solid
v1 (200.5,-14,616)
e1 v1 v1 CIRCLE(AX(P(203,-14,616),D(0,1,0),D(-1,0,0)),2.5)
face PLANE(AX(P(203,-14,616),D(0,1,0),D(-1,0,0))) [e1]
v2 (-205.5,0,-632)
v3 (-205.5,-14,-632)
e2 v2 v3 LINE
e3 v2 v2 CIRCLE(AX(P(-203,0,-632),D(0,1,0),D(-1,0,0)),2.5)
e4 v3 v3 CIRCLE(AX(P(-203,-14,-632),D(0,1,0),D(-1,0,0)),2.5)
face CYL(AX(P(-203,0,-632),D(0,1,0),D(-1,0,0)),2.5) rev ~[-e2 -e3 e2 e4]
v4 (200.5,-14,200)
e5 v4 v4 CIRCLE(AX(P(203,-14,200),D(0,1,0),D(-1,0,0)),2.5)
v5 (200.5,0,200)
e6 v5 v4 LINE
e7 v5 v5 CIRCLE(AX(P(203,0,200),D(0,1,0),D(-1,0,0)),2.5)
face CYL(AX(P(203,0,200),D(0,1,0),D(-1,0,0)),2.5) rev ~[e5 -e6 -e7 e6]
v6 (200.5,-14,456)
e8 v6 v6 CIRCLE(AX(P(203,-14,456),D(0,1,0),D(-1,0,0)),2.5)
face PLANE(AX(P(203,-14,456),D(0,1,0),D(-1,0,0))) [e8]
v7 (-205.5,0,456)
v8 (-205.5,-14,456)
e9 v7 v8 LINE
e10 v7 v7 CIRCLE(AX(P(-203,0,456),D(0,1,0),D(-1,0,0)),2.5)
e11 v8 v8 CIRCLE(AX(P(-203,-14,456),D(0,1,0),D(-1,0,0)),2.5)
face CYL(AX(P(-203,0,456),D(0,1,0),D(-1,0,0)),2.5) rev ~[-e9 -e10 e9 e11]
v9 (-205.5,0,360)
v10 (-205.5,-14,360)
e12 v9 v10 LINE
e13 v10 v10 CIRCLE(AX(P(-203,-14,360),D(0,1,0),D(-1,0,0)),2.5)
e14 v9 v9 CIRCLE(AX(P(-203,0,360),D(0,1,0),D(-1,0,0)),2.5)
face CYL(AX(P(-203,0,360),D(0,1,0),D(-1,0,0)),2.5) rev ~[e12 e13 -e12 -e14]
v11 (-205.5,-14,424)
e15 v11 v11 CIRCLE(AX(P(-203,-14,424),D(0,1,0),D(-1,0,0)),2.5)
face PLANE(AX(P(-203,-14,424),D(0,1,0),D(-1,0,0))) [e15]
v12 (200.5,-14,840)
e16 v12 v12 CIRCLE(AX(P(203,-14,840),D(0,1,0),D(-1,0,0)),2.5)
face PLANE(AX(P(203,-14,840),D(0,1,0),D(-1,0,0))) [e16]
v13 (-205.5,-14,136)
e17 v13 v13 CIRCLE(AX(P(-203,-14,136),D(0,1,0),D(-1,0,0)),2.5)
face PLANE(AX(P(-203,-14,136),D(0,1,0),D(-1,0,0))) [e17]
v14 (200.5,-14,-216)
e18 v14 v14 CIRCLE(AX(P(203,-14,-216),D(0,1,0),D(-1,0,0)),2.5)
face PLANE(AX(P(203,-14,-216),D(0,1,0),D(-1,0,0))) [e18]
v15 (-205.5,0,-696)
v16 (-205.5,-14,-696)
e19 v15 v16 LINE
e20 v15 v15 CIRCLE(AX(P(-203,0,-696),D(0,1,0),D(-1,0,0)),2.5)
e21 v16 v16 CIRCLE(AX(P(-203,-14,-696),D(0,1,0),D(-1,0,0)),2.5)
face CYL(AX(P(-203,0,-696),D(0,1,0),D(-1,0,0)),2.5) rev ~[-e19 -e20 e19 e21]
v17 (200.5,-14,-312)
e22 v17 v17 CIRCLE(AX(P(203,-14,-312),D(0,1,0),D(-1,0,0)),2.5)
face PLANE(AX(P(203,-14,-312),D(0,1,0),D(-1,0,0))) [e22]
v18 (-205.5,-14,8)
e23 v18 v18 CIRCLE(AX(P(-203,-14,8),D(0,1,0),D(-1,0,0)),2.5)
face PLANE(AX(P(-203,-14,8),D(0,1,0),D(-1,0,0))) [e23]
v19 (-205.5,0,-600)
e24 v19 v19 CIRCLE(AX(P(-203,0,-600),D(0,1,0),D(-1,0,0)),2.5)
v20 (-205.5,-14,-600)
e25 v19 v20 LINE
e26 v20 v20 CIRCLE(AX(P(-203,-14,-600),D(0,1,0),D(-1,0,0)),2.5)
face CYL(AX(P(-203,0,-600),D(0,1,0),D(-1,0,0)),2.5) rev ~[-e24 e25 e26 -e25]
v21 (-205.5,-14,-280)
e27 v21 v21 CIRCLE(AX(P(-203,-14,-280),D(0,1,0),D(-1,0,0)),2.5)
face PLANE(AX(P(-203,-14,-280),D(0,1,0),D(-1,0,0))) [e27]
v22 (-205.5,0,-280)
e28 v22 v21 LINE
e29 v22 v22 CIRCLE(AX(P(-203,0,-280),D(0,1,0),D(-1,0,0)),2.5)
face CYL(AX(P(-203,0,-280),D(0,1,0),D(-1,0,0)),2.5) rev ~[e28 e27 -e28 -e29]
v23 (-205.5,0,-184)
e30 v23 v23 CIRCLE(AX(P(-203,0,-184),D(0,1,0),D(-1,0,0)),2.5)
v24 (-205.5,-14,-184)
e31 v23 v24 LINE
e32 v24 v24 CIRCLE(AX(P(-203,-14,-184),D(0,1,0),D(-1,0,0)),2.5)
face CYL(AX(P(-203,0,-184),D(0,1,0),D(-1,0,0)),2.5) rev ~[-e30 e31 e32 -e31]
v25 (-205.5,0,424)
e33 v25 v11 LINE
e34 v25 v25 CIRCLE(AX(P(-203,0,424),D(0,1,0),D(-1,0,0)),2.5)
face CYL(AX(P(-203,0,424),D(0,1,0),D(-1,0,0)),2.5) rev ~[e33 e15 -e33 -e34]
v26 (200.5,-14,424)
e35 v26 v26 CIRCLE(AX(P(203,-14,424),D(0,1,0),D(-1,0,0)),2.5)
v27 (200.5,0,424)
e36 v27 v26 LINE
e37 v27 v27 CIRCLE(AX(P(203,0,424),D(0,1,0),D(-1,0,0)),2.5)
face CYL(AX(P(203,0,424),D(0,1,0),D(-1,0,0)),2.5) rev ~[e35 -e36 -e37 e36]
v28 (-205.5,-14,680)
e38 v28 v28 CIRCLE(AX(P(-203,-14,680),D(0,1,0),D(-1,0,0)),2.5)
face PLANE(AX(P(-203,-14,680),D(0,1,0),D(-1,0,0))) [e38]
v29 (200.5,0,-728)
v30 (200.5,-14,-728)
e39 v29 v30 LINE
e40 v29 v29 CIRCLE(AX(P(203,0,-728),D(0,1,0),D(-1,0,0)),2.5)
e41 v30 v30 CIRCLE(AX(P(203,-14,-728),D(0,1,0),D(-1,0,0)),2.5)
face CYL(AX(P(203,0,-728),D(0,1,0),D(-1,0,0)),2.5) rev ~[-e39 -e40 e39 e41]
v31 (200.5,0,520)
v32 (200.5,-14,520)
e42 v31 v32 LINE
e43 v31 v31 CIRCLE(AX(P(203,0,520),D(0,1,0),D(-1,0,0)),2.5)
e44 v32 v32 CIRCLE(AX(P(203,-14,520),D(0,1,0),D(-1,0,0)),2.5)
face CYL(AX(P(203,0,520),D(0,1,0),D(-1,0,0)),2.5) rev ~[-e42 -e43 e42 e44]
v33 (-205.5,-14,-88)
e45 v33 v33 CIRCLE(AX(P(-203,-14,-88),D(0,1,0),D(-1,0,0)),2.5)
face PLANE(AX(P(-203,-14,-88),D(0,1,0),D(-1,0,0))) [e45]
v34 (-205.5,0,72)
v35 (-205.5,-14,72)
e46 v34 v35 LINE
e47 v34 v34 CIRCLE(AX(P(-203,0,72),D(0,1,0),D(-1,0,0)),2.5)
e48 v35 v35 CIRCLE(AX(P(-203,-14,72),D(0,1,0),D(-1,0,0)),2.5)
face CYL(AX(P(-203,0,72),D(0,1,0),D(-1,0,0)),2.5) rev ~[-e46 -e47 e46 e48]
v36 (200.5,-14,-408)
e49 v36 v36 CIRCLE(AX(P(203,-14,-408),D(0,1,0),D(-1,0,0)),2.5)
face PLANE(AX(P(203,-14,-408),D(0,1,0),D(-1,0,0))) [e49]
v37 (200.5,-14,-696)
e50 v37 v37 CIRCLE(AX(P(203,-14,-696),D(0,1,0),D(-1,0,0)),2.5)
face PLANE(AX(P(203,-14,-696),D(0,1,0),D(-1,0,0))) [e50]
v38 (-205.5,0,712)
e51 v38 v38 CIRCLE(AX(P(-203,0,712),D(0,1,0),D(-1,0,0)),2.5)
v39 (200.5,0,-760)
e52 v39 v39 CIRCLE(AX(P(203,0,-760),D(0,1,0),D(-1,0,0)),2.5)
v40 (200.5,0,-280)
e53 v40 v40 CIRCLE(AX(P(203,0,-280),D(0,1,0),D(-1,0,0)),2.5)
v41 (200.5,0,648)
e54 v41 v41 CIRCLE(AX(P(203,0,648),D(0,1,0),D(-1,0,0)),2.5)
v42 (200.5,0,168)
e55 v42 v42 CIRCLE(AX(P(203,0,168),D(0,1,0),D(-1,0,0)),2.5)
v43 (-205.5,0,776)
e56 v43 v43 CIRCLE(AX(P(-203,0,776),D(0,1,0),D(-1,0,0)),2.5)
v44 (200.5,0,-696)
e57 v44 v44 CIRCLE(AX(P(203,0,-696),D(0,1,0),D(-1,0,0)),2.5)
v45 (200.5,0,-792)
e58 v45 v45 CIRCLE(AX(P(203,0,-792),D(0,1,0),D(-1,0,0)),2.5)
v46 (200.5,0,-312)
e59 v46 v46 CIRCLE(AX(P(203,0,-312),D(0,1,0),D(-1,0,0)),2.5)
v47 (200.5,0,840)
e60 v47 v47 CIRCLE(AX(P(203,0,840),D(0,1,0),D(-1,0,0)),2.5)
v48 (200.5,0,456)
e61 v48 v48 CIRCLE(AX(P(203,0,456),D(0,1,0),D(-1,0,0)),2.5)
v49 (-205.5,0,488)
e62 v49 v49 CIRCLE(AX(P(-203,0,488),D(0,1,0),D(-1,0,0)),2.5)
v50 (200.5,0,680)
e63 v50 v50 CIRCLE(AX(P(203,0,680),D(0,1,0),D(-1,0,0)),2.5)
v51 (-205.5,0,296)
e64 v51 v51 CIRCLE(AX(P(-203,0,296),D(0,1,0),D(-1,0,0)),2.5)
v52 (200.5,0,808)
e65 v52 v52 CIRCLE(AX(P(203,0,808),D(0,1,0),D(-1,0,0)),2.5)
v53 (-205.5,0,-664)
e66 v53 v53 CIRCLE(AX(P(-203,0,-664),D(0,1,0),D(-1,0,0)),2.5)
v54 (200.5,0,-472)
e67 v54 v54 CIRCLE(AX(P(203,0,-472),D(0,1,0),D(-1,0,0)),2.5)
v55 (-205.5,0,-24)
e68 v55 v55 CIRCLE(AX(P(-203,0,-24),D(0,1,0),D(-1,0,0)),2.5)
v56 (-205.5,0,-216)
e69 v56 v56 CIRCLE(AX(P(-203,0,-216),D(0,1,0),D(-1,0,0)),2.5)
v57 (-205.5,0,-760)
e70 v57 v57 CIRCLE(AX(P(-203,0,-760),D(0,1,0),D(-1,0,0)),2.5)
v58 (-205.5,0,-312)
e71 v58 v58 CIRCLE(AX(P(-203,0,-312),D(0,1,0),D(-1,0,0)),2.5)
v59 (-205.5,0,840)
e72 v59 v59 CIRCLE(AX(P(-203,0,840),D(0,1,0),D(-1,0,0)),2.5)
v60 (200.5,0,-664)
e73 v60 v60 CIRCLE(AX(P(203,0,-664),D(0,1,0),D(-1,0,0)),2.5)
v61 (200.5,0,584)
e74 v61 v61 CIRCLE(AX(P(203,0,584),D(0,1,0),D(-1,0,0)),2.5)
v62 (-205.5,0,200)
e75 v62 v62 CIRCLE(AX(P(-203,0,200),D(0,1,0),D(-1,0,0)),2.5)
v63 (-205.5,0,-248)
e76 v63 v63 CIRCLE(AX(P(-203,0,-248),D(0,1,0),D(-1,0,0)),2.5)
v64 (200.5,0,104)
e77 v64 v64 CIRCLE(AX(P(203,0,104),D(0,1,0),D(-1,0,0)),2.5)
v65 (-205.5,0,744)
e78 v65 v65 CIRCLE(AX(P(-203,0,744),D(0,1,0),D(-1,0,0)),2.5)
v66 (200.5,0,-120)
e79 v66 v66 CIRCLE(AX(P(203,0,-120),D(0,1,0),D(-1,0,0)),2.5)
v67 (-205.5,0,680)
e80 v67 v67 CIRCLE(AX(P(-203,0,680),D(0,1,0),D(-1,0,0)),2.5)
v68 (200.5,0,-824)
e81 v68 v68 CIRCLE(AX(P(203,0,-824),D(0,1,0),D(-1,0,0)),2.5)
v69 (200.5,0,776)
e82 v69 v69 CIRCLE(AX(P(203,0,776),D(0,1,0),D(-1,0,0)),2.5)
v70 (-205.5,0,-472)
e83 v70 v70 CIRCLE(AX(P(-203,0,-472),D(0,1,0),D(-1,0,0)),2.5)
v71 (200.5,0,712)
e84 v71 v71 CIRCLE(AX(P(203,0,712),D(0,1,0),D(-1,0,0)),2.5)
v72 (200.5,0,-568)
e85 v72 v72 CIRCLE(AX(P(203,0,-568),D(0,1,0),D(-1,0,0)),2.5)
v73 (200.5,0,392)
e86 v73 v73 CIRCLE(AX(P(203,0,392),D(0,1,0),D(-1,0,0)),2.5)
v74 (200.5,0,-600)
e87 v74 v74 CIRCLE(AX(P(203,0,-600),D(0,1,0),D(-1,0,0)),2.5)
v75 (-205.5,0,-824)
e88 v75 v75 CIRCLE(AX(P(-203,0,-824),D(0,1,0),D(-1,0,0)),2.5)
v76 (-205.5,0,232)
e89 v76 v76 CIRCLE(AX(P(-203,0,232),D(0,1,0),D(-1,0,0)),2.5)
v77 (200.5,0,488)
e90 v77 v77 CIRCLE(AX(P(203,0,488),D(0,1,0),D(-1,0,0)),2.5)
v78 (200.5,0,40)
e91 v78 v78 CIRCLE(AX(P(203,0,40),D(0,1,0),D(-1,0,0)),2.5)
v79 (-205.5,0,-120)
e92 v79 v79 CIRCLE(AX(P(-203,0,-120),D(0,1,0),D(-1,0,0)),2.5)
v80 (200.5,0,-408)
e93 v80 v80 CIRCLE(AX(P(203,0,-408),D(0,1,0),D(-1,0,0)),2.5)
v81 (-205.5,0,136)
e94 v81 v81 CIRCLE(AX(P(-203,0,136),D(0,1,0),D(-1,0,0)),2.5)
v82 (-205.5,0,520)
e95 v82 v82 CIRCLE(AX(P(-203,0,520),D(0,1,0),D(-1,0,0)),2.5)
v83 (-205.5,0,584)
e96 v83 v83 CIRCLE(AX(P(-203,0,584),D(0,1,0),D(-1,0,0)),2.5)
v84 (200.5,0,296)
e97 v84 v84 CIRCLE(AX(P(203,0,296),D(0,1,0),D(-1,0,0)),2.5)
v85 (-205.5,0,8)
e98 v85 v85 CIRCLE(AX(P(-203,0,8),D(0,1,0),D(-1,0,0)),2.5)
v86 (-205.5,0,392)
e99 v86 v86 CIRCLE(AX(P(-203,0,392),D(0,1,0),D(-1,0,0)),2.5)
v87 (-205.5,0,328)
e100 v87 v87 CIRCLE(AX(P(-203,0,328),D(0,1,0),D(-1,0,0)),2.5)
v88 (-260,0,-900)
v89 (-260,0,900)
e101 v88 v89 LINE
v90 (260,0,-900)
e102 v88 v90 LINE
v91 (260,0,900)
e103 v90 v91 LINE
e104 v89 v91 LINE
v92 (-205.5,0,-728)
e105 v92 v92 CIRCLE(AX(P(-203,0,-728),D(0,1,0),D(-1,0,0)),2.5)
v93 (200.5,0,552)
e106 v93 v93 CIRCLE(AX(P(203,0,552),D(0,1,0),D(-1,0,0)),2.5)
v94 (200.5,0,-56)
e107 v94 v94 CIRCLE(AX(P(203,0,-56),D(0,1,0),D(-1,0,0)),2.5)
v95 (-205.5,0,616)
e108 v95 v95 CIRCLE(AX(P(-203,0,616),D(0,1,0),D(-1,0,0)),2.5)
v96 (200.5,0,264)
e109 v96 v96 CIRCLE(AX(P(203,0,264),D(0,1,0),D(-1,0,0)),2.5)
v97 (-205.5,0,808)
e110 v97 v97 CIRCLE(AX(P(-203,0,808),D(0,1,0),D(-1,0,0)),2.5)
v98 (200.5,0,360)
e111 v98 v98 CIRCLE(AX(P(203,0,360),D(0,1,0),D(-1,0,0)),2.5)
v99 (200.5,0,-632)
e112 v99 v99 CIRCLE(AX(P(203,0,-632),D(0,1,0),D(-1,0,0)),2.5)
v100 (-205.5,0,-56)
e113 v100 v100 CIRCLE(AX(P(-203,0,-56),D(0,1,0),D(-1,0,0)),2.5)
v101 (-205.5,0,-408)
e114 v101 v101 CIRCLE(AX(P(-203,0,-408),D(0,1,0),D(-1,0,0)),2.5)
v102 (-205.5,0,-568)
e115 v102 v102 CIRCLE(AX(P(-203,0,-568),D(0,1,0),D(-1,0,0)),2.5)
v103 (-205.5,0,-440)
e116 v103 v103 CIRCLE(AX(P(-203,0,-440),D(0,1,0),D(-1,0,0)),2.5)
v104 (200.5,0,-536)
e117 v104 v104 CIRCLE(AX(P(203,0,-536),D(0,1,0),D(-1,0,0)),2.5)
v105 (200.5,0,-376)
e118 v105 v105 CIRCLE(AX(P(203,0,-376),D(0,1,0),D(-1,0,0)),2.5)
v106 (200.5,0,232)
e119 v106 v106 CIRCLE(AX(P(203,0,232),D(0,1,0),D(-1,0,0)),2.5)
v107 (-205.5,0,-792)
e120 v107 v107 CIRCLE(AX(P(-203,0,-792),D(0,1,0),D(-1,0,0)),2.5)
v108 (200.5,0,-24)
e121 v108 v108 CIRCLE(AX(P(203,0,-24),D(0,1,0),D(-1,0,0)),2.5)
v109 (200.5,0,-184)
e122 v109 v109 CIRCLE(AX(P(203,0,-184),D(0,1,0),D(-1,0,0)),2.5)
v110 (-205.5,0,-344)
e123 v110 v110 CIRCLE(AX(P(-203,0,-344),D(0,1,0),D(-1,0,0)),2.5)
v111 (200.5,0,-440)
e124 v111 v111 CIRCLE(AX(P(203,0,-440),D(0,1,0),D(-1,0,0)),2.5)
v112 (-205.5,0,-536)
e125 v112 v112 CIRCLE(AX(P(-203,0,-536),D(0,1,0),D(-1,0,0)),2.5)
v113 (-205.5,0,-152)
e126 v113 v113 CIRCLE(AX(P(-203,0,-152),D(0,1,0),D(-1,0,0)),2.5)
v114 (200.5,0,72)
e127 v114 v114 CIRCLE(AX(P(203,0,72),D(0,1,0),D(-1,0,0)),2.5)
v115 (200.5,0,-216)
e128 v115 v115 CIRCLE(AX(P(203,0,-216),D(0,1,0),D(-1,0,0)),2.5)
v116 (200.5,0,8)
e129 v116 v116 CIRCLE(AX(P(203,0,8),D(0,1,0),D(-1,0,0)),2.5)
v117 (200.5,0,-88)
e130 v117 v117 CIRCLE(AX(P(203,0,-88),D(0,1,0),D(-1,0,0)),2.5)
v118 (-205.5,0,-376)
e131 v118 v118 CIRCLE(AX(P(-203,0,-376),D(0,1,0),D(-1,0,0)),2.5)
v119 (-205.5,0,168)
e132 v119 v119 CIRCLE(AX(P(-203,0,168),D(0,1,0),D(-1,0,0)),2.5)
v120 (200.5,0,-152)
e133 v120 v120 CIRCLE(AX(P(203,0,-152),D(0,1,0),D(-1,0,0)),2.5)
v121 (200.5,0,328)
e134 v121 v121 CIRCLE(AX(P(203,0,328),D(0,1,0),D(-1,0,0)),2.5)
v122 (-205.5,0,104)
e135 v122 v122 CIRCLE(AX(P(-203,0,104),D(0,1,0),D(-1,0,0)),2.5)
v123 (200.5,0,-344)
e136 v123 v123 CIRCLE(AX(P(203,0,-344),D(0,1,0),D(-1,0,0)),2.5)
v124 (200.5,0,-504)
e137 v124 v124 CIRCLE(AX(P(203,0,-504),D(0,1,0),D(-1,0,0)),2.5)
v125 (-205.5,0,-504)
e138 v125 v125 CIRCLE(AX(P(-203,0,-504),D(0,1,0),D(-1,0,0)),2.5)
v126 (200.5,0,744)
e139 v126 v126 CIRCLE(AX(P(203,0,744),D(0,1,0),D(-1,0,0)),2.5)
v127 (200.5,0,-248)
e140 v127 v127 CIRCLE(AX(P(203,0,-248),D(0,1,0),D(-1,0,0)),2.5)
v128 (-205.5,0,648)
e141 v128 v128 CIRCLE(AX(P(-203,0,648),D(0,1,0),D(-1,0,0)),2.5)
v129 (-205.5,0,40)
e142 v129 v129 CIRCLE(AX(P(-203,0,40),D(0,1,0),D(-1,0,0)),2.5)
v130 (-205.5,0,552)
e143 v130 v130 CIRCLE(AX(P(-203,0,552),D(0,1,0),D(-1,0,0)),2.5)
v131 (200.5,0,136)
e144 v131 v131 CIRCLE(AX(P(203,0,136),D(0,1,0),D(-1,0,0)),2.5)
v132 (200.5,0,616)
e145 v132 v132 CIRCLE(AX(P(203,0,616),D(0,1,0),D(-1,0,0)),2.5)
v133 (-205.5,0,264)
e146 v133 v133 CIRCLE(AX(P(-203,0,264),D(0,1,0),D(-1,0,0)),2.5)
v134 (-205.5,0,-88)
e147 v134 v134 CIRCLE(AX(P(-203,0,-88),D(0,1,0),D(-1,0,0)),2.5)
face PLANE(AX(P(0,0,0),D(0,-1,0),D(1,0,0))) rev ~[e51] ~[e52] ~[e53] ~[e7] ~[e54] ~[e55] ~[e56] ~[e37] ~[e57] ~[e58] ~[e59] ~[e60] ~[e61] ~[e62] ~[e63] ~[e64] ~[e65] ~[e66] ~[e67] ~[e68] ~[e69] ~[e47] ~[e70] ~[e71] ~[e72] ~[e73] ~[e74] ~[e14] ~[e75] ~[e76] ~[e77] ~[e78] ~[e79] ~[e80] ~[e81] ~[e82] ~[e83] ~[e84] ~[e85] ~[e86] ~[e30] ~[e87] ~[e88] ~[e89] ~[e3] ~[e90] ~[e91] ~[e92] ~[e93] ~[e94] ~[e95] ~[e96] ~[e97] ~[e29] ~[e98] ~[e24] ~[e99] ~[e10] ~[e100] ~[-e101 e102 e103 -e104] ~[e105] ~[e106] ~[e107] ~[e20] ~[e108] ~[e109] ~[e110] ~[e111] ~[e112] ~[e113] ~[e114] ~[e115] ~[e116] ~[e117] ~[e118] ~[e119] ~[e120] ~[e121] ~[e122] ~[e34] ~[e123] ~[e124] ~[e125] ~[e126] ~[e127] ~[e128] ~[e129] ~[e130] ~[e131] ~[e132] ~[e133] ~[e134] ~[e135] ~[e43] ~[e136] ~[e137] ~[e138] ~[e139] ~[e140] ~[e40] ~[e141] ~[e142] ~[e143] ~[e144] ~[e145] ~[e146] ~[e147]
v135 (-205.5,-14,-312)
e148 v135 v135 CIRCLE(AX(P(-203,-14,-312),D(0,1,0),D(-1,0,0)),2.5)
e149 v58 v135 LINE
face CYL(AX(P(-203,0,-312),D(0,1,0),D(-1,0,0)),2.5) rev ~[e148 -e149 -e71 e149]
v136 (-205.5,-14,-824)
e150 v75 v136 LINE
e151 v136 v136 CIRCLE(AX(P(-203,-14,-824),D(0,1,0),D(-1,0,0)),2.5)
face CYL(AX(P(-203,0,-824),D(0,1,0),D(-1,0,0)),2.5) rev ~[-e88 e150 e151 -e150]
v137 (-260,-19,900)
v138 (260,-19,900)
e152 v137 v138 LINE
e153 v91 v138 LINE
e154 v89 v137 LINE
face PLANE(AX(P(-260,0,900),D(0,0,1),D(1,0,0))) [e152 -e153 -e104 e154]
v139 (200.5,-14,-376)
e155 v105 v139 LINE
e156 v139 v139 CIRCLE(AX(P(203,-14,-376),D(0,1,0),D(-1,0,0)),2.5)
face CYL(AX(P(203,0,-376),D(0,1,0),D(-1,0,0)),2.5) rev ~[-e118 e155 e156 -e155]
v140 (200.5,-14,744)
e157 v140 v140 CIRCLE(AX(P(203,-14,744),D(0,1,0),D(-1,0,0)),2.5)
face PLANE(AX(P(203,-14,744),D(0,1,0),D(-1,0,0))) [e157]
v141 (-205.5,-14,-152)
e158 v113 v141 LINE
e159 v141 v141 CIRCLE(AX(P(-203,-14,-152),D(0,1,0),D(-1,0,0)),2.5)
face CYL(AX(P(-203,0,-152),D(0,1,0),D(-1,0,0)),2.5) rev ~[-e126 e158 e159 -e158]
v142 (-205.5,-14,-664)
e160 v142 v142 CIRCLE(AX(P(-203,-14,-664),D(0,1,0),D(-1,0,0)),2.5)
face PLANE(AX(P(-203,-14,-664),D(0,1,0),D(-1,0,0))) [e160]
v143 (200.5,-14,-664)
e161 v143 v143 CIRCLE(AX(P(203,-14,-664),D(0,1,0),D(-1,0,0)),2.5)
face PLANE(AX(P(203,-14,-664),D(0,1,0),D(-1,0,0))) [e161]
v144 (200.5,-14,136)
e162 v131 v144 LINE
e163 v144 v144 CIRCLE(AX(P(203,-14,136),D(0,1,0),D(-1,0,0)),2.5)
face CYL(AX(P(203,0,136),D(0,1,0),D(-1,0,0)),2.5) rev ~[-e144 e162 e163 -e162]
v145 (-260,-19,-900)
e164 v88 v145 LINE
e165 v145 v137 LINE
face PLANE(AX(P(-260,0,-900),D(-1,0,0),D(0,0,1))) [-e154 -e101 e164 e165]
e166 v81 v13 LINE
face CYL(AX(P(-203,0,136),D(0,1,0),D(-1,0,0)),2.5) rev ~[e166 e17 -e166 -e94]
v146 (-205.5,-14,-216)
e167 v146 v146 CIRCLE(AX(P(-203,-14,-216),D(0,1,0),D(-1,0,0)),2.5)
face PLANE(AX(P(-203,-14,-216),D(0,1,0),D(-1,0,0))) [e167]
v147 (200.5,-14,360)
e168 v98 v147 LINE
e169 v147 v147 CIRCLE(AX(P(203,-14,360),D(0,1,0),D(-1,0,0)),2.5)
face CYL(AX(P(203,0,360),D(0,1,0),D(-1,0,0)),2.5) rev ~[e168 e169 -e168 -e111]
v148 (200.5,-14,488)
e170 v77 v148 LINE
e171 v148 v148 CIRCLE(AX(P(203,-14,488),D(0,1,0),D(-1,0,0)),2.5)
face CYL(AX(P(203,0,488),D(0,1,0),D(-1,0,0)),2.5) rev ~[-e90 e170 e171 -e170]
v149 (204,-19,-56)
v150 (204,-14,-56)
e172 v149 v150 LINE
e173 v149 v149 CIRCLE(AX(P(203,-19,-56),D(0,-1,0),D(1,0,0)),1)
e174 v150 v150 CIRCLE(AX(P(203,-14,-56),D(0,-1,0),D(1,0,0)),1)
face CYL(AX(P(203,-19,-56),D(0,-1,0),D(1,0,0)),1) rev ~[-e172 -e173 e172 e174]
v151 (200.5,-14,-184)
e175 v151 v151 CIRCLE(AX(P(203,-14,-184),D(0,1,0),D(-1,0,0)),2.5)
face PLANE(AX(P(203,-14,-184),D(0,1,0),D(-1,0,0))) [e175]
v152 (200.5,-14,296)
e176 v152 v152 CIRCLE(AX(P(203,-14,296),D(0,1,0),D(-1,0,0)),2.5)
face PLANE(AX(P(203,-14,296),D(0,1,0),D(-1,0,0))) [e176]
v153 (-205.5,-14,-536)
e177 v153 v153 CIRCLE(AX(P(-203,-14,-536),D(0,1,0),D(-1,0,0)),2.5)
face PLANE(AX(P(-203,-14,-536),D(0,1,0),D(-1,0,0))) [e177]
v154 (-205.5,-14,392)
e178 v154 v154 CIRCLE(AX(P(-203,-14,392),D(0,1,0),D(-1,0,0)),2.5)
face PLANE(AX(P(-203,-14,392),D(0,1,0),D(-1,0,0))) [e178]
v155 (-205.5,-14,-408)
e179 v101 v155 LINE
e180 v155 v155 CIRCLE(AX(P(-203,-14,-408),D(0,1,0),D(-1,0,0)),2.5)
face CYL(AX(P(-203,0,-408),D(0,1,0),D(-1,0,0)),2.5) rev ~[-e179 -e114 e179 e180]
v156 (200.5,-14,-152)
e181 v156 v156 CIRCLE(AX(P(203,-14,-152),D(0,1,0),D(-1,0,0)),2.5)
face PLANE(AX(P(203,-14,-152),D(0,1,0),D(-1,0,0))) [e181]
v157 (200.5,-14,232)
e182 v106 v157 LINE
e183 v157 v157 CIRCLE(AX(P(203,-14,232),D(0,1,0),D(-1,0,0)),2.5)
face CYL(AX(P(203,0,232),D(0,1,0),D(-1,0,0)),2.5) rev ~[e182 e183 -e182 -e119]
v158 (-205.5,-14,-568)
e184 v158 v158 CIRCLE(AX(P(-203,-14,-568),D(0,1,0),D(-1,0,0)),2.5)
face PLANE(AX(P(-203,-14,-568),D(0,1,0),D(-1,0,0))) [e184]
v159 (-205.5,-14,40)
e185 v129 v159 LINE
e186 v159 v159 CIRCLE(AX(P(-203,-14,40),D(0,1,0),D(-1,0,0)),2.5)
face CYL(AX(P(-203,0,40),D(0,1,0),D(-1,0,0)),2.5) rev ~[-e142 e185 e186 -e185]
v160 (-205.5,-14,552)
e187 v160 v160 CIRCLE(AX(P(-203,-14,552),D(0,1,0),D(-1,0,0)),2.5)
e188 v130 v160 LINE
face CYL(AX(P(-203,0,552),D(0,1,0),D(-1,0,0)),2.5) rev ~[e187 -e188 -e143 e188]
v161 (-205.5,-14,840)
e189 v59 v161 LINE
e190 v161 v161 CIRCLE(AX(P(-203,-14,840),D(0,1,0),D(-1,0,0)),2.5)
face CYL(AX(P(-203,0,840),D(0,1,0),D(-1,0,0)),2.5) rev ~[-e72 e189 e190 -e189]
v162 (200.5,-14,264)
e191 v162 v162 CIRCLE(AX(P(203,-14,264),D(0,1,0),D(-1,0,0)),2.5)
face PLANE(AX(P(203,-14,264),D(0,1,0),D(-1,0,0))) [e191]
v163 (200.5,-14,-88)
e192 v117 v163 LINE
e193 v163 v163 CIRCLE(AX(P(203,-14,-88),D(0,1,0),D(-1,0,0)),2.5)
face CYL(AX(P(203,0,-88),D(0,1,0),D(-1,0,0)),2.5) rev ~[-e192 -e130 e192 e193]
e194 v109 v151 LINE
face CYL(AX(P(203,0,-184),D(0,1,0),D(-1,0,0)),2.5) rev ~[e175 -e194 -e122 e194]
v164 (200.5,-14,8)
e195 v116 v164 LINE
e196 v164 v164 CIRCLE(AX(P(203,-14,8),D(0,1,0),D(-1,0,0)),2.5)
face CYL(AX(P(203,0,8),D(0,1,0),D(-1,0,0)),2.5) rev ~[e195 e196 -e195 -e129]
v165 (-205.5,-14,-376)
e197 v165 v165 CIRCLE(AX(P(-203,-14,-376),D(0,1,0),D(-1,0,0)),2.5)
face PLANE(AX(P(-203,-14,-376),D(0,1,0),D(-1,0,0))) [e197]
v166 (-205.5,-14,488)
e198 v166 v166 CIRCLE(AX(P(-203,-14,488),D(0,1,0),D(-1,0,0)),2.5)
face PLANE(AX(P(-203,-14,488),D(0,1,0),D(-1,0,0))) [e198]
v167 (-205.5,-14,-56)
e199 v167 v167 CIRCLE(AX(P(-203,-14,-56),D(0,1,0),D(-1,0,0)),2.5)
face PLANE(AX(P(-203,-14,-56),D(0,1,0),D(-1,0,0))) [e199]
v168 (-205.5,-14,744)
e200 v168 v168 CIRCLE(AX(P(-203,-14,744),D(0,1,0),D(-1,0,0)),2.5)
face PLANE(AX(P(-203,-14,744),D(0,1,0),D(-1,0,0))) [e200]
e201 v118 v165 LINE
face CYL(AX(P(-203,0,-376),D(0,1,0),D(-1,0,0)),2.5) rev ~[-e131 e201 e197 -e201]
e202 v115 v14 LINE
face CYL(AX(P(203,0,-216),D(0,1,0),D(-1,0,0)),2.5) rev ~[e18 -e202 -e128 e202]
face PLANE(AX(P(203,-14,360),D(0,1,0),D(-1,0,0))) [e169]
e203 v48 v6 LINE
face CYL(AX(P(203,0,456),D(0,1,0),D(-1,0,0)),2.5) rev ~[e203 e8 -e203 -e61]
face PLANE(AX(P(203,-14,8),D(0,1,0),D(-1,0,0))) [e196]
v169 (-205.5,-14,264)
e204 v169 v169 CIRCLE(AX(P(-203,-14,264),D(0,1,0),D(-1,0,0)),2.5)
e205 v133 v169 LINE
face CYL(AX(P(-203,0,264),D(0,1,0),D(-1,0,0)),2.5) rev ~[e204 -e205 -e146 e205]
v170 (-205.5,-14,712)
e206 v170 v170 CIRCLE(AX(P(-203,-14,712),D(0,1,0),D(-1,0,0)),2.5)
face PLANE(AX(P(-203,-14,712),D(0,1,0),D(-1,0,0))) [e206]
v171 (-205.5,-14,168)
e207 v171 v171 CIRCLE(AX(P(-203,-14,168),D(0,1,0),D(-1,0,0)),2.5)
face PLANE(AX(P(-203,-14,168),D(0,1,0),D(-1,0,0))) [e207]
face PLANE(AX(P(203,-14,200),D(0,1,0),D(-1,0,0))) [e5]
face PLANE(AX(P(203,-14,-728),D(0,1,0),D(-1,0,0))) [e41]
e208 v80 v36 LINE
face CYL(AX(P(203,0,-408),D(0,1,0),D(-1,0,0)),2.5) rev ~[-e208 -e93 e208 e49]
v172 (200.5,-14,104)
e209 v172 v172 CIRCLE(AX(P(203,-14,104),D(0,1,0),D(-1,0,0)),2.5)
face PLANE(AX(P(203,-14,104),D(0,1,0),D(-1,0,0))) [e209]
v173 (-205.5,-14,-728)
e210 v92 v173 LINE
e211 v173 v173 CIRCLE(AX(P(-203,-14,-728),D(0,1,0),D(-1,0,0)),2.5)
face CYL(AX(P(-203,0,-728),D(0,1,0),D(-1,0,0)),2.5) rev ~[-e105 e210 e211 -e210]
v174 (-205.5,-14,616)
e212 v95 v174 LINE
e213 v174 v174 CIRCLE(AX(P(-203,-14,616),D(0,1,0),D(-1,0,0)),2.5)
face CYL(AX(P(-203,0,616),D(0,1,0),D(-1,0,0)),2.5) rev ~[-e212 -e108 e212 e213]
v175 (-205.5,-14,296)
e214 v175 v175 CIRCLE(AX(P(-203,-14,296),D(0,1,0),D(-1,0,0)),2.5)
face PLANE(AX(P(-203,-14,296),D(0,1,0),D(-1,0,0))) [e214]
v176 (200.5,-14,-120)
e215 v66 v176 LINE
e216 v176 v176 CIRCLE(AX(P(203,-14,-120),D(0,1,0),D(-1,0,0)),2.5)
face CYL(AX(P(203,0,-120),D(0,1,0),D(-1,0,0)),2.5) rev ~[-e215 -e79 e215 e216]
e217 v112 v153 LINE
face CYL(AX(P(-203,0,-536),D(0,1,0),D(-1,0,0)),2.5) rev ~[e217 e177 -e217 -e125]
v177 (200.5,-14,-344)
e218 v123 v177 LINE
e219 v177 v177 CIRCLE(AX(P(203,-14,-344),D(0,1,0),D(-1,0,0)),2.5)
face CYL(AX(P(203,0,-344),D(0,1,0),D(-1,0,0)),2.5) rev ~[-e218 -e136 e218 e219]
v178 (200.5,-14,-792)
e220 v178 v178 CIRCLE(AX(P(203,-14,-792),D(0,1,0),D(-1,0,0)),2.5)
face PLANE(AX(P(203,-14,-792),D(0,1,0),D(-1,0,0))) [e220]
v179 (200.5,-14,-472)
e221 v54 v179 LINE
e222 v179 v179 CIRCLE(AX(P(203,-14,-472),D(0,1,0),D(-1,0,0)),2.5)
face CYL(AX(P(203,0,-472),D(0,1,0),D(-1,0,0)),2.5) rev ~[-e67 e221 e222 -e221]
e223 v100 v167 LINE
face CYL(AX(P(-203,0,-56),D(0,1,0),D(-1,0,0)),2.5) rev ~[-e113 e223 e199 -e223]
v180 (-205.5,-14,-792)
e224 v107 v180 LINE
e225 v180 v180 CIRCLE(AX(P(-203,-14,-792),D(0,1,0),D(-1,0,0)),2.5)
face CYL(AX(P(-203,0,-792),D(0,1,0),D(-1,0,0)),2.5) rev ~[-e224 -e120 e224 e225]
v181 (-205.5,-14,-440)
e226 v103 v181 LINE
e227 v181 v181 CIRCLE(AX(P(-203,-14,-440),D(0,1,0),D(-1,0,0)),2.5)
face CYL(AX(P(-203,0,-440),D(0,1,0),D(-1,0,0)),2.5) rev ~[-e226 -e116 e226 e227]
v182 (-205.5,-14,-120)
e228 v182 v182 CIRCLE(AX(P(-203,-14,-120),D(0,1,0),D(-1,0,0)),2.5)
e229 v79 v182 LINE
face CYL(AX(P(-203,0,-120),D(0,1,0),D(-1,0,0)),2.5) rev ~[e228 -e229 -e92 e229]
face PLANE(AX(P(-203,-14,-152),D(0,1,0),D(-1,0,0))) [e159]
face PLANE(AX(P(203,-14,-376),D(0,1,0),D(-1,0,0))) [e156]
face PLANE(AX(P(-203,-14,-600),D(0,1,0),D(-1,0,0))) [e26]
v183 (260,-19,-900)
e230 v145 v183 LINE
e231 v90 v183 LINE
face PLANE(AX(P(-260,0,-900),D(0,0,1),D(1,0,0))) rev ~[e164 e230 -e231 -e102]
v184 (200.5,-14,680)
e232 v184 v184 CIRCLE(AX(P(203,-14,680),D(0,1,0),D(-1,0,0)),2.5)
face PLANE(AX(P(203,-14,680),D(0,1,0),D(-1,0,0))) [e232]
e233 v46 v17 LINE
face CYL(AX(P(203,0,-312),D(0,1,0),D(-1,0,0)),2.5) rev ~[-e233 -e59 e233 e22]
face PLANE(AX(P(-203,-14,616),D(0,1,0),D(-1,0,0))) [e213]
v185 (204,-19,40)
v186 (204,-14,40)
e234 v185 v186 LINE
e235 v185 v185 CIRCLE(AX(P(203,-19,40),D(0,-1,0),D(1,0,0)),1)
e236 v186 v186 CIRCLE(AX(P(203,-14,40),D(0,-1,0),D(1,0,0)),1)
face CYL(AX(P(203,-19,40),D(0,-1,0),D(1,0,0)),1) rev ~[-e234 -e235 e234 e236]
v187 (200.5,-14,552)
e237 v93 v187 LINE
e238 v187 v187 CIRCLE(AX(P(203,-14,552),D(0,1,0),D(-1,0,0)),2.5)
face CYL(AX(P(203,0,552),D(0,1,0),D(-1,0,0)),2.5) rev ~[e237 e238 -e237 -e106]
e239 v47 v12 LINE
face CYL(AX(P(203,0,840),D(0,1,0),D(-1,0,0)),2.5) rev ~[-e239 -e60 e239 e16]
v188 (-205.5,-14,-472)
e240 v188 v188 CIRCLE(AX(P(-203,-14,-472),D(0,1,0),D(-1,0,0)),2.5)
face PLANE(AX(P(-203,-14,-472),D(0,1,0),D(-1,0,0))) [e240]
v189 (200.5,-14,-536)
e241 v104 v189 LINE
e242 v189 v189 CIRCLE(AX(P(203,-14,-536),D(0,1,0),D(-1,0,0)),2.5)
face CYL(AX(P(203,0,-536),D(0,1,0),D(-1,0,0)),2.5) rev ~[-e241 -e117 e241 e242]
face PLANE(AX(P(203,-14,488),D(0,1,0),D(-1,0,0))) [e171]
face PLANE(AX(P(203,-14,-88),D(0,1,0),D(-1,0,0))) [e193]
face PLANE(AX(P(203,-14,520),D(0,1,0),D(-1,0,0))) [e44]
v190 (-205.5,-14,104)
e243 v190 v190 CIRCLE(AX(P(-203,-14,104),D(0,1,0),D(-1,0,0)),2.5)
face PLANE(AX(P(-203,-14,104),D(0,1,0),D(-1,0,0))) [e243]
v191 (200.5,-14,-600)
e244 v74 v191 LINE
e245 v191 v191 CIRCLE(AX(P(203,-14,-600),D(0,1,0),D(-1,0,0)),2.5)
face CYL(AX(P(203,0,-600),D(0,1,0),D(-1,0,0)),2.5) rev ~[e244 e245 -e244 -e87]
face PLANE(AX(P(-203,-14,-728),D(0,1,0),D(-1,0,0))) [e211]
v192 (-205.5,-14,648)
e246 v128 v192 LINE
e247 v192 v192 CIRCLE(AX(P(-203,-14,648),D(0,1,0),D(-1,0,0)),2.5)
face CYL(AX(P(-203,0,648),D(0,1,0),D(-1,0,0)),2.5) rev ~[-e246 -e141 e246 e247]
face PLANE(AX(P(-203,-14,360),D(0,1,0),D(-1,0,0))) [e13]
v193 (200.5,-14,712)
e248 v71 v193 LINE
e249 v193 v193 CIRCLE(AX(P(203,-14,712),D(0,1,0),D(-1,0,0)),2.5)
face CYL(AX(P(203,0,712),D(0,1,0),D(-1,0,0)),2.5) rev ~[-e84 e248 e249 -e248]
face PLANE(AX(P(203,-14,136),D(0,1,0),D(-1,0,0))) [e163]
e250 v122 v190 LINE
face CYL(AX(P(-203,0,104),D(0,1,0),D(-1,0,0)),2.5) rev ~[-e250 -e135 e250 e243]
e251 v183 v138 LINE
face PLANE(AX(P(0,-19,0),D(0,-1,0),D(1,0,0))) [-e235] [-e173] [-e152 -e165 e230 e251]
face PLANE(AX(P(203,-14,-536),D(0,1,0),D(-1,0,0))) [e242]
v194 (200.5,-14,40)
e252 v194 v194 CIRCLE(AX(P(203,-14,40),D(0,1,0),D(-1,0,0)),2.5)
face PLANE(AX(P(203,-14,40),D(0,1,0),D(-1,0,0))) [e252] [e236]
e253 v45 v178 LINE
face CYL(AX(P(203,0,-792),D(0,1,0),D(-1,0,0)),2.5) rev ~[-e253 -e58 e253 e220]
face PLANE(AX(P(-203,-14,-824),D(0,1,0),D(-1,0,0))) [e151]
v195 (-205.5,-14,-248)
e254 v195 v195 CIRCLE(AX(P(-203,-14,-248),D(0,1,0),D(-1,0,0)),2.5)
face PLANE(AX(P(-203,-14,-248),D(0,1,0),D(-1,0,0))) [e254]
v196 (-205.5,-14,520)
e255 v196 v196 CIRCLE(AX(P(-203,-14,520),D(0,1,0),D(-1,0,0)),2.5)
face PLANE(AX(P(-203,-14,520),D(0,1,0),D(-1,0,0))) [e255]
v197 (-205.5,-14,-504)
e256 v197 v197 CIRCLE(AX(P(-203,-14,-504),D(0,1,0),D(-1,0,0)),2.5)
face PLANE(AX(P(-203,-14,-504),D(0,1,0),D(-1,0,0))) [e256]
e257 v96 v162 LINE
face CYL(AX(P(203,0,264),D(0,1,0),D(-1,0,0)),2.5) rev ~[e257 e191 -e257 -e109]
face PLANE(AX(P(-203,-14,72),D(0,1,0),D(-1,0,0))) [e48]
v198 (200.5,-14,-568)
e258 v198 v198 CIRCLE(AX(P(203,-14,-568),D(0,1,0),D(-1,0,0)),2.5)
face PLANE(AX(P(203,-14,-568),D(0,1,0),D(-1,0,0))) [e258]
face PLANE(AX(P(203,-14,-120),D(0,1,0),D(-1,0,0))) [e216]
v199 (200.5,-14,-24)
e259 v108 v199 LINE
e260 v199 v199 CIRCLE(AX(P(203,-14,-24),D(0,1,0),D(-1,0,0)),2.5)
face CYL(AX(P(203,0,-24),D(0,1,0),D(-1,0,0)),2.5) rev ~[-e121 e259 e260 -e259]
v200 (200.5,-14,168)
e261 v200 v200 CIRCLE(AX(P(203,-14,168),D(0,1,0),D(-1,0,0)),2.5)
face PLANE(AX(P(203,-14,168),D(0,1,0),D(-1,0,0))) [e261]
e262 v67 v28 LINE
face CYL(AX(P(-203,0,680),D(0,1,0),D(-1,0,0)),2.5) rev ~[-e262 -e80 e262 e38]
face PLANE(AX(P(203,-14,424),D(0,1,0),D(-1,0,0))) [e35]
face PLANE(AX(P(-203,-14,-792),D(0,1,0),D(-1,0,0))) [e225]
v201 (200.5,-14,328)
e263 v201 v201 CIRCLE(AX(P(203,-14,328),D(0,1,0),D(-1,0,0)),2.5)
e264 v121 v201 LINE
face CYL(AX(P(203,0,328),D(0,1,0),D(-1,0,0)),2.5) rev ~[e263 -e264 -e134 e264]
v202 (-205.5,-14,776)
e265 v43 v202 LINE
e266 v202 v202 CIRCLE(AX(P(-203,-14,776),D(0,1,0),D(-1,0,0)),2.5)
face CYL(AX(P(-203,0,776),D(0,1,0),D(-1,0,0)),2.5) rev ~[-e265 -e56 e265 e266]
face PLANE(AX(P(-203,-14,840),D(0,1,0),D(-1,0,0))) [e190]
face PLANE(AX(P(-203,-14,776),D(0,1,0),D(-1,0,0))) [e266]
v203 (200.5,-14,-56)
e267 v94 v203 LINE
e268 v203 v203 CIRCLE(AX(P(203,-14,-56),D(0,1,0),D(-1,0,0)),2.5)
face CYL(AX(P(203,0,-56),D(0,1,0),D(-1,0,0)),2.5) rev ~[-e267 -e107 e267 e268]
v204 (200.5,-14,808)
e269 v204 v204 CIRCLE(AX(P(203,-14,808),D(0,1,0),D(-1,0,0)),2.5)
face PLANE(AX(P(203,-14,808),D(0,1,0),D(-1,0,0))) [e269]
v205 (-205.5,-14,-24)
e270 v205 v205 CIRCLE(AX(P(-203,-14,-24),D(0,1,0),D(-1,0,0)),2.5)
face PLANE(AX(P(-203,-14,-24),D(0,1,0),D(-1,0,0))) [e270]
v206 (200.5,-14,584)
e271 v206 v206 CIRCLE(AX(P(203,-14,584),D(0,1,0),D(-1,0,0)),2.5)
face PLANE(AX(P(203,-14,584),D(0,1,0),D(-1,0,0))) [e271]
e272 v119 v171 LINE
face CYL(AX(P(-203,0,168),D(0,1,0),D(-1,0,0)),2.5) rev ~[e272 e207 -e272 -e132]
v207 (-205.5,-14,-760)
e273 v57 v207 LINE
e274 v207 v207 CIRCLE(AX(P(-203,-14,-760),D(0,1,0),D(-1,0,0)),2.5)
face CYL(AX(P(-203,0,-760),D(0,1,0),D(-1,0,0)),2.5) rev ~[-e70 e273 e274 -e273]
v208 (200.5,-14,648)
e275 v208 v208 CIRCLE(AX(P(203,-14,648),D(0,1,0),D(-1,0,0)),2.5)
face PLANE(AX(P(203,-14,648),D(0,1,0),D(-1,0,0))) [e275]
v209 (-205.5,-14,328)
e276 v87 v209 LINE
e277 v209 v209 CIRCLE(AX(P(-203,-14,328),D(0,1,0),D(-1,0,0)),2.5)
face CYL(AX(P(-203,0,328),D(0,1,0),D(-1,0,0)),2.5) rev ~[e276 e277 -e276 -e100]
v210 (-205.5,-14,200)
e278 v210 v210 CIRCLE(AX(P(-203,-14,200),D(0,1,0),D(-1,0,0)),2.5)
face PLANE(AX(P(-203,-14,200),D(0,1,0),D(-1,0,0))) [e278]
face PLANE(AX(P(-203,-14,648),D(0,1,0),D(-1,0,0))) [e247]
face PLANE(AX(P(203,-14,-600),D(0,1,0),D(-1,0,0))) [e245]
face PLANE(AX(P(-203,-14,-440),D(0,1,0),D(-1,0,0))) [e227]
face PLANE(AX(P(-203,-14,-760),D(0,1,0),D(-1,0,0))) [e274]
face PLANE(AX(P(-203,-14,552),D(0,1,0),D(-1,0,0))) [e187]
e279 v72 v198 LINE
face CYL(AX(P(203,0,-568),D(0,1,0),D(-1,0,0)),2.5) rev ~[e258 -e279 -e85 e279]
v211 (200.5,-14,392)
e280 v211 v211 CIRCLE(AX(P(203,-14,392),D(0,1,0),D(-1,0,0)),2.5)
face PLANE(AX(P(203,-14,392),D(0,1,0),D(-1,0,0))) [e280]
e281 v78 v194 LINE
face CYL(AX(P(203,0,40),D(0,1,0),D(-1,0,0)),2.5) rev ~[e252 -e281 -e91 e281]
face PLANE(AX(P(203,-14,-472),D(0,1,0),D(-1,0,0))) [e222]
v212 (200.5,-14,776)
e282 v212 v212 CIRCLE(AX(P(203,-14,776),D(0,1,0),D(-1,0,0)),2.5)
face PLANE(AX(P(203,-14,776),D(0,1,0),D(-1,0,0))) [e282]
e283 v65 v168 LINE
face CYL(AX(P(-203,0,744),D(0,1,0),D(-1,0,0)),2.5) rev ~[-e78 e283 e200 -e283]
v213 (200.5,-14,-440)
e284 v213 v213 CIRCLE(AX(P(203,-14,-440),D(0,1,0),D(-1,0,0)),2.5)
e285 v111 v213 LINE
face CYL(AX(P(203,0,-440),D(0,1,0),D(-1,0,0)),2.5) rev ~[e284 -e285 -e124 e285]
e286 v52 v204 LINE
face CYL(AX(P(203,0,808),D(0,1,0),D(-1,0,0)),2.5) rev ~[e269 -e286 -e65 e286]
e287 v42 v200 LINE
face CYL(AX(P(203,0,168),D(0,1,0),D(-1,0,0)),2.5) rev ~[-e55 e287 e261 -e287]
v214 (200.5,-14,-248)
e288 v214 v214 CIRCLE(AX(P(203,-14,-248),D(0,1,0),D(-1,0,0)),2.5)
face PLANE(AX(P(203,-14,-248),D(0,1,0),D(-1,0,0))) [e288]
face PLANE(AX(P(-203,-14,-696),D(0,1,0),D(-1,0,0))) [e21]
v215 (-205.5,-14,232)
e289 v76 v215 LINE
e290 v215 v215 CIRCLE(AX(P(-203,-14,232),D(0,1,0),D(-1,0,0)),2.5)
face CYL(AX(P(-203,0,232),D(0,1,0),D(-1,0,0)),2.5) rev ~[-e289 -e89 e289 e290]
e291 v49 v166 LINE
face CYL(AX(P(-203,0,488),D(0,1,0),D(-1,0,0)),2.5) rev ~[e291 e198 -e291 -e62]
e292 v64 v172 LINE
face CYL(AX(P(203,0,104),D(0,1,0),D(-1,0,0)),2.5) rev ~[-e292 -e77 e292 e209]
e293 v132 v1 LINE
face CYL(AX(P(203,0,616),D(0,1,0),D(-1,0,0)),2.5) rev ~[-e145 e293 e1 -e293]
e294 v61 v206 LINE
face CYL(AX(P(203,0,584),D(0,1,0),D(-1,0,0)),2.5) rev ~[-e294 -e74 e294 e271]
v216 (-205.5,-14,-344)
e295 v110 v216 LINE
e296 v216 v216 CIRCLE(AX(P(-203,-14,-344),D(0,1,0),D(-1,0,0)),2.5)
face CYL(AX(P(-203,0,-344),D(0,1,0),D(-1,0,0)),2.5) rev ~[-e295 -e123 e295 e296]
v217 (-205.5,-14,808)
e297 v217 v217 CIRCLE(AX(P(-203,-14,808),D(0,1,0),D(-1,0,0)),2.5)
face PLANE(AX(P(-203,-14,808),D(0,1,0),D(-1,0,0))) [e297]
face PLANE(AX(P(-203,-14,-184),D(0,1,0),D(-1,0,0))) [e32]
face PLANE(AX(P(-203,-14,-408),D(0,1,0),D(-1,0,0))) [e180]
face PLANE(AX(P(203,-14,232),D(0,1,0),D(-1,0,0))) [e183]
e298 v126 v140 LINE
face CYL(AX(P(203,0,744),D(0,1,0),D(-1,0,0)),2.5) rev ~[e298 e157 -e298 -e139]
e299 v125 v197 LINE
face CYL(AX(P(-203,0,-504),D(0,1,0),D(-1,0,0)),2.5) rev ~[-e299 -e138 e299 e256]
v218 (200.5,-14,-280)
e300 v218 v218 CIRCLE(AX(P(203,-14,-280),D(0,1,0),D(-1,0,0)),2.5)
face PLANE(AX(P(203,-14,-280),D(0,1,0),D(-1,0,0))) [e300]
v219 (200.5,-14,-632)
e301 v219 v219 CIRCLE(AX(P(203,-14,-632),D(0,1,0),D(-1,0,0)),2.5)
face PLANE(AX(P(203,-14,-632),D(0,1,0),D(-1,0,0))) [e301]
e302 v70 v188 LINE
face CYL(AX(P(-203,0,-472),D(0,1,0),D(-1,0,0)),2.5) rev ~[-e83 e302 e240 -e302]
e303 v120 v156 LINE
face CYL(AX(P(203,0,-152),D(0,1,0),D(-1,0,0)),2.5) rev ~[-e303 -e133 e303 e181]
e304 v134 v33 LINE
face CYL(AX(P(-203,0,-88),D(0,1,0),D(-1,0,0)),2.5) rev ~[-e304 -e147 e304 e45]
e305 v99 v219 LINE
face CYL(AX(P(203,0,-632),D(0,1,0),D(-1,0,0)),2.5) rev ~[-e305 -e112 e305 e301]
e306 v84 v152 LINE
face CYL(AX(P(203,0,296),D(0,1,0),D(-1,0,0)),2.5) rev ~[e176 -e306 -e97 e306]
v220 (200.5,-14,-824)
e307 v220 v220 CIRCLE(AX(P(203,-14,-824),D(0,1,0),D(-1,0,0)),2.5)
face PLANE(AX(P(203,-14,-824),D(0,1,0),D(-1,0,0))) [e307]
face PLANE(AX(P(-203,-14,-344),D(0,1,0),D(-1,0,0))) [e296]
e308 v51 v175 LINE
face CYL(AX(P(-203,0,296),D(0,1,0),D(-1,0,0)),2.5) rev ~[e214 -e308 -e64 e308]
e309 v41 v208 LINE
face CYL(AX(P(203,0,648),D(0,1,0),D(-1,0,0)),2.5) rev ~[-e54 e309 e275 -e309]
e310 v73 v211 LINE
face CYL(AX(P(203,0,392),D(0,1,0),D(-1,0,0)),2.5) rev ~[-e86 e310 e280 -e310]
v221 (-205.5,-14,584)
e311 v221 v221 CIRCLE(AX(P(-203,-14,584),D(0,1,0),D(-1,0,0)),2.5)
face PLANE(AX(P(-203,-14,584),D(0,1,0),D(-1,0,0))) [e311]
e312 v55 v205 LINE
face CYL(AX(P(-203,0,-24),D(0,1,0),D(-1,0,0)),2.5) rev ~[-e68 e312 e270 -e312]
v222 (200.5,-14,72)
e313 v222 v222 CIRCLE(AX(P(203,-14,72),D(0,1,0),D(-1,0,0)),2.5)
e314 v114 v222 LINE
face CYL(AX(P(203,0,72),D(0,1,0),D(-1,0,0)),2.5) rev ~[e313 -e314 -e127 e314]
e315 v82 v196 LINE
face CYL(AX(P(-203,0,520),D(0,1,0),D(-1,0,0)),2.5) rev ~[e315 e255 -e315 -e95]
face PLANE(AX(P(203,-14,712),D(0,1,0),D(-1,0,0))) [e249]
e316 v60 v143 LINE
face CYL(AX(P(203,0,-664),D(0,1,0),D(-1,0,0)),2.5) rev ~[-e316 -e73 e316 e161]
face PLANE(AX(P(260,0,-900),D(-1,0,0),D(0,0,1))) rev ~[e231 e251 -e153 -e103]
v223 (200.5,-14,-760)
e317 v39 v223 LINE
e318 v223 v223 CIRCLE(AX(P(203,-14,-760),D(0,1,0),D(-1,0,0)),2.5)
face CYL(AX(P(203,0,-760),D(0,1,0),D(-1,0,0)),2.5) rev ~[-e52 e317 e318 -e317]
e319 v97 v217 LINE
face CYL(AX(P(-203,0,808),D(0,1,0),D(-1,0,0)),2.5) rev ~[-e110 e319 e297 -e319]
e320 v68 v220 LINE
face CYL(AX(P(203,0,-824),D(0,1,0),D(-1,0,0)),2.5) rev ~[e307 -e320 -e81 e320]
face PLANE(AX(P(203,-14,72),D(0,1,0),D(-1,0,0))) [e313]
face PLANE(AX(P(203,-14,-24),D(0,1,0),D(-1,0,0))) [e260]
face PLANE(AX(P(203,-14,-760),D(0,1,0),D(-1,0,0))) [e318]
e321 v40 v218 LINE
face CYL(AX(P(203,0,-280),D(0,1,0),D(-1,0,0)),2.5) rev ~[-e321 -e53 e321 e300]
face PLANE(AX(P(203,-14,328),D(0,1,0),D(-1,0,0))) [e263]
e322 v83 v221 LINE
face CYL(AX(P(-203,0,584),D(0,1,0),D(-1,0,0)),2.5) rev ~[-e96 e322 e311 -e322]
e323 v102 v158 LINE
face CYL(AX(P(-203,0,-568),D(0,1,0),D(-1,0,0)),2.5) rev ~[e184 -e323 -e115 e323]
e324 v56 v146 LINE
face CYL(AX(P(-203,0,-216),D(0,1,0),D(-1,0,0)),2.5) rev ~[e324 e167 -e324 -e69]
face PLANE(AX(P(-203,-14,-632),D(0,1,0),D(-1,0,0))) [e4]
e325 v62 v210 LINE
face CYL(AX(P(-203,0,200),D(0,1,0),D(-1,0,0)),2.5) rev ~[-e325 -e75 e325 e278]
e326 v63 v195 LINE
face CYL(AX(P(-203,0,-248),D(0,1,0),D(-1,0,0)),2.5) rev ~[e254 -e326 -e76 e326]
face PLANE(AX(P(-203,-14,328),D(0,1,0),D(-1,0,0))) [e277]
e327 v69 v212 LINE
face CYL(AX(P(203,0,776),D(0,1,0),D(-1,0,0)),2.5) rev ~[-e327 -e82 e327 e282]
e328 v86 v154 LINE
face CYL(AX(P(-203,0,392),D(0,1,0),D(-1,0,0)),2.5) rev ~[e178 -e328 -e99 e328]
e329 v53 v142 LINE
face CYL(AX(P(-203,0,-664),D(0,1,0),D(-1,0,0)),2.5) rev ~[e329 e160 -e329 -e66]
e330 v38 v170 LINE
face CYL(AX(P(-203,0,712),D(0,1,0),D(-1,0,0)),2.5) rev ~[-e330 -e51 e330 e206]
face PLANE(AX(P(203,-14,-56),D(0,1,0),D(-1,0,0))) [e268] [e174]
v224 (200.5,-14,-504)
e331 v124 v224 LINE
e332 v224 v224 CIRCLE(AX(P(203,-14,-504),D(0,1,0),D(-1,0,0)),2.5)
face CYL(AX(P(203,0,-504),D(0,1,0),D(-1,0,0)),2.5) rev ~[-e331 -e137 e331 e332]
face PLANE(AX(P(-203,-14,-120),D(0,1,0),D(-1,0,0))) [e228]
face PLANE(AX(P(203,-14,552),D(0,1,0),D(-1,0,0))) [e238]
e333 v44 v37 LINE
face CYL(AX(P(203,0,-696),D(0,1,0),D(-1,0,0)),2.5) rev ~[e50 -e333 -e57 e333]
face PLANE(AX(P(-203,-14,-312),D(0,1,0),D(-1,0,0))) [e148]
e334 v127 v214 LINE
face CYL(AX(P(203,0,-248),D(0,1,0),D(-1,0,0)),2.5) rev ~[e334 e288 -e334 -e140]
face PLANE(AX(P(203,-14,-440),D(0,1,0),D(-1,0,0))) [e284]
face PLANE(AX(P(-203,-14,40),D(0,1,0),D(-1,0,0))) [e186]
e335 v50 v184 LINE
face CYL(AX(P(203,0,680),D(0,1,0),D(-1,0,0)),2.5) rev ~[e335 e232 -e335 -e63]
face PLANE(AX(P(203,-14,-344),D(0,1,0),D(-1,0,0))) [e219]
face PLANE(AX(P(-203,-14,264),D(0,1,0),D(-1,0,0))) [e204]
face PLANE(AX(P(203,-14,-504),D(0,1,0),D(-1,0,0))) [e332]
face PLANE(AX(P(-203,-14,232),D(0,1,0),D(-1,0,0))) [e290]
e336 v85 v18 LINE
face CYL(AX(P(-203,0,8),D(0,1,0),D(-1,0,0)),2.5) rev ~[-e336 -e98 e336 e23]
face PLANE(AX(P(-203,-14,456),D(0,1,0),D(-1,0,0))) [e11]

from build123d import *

# Parameters (mm, degrees)
F0_W     = 520
F0_H     = 1800
F1_DEPTH = 19
F2_R     = 2.5
F3_DEPTH = 14
F4_R     = 1
F5_DEPTH = 19.001


with BuildPart() as f1:
    # F0 (on Front) → F1 (new body)
    with BuildSketch(Plane.XZ):
        Rectangle(F0_W, F0_H)
    extrude(amount=F1_DEPTH)

    # F2 (on face) → F3 (cut)
    with BuildSketch(Plane(origin=(0, 0, 0), x_dir=(-1, 0, 0), z_dir=(0, 1, 0))):
        with Locations((-203, 840)):
            Circle(F2_R)
        with Locations((-203, 808)):
            Circle(F2_R)
        with Locations((-203, 776)):
            Circle(F2_R)
        with Locations((-203, 744)):
            Circle(F2_R)
        with Locations((-203, 712)):
            Circle(F2_R)
        with Locations((-203, 680)):
            Circle(F2_R)
        with Locations((-203, 648)):
            Circle(F2_R)
        with Locations((-203, 616)):
            Circle(F2_R)
        with Locations((-203, 584)):
            Circle(F2_R)
        with Locations((-203, 552)):
            Circle(F2_R)
        with Locations((-203, 520)):
            Circle(F2_R)
        with Locations((-203, 488)):
            Circle(F2_R)
        with Locations((-203, 456)):
            Circle(F2_R)
        with Locations((-203, 424)):
            Circle(F2_R)
        with Locations((-203, 392)):
            Circle(F2_R)
        with Locations((-203, 360)):
            Circle(F2_R)
        with Locations((-203, 328)):
            Circle(F2_R)
        with Locations((-203, 296)):
            Circle(F2_R)
        with Locations((-203, 264)):
            Circle(F2_R)
        with Locations((-203, 232)):
            Circle(F2_R)
        with Locations((-203, 200)):
            Circle(F2_R)
        with Locations((-203, 168)):
            Circle(F2_R)
        with Locations((-203, 136)):
            Circle(F2_R)
        with Locations((-203, 104)):
            Circle(F2_R)
        with Locations((-203, 72)):
            Circle(F2_R)
        with Locations((-203, 40)):
            Circle(F2_R)
        with Locations((-203, 8)):
            Circle(F2_R)
        with Locations((-203, -24)):
            Circle(F2_R)
        with Locations((-203, -56)):
            Circle(F2_R)
        with Locations((-203, -88)):
            Circle(F2_R)
        with Locations((-203, -120)):
            Circle(F2_R)
        with Locations((-203, -152)):
            Circle(F2_R)
        with Locations((-203, -184)):
            Circle(F2_R)
        with Locations((-203, -216)):
            Circle(F2_R)
        with Locations((-203, -248)):
            Circle(F2_R)
        with Locations((-203, -280)):
            Circle(F2_R)
        with Locations((-203, -312)):
            Circle(F2_R)
        with Locations((-203, -344)):
            Circle(F2_R)
        with Locations((-203, -376)):
            Circle(F2_R)
        with Locations((-203, -408)):
            Circle(F2_R)
        with Locations((-203, -440)):
            Circle(F2_R)
        with Locations((-203, -472)):
            Circle(F2_R)
        with Locations((-203, -504)):
            Circle(F2_R)
        with Locations((-203, -536)):
            Circle(F2_R)
        with Locations((-203, -568)):
            Circle(F2_R)
        with Locations((-203, -600)):
            Circle(F2_R)
        with Locations((-203, -632)):
            Circle(F2_R)
        with Locations((-203, -664)):
            Circle(F2_R)
        with Locations((-203, -696)):
            Circle(F2_R)
        with Locations((-203, -728)):
            Circle(F2_R)
        with Locations((203, 840)):
            Circle(F2_R)
        with Locations((203, 808)):
            Circle(F2_R)
        with Locations((203, 776)):
            Circle(F2_R)
        with Locations((203, 744)):
            Circle(F2_R)
        with Locations((203, 712)):
            Circle(F2_R)
        with Locations((203, 680)):
            Circle(F2_R)
        with Locations((203, 648)):
            Circle(F2_R)
        with Locations((203, 616)):
            Circle(F2_R)
        with Locations((203, 584)):
            Circle(F2_R)
        with Locations((203, 552)):
            Circle(F2_R)
        with Locations((203, 520)):
            Circle(F2_R)
        with Locations((203, 488)):
            Circle(F2_R)
        with Locations((203, 456)):
            Circle(F2_R)
        with Locations((203, 424)):
            Circle(F2_R)
        with Locations((203, 392)):
            Circle(F2_R)
        with Locations((203, 360)):
            Circle(F2_R)
        with Locations((203, 328)):
            Circle(F2_R)
        with Locations((203, 296)):
            Circle(F2_R)
        with Locations((203, 264)):
            Circle(F2_R)
        with Locations((203, 232)):
            Circle(F2_R)
        with Locations((203, 200)):
            Circle(F2_R)
        with Locations((203, 168)):
            Circle(F2_R)
        with Locations((203, 136)):
            Circle(F2_R)
        with Locations((203, 104)):
            Circle(F2_R)
        with Locations((203, 72)):
            Circle(F2_R)
        with Locations((203, 40)):
            Circle(F2_R)
        with Locations((203, 8)):
            Circle(F2_R)
        with Locations((203, -24)):
            Circle(F2_R)
        with Locations((203, -56)):
            Circle(F2_R)
        with Locations((203, -88)):
            Circle(F2_R)
        with Locations((203, -120)):
            Circle(F2_R)
        with Locations((203, -152)):
            Circle(F2_R)
        with Locations((203, -184)):
            Circle(F2_R)
        with Locations((203, -216)):
            Circle(F2_R)
        with Locations((203, -248)):
            Circle(F2_R)
        with Locations((203, -280)):
            Circle(F2_R)
        with Locations((203, -312)):
            Circle(F2_R)
        with Locations((203, -344)):
            Circle(F2_R)
        with Locations((203, -376)):
            Circle(F2_R)
        with Locations((203, -408)):
            Circle(F2_R)
        with Locations((203, -440)):
            Circle(F2_R)
        with Locations((203, -472)):
            Circle(F2_R)
        with Locations((203, -504)):
            Circle(F2_R)
        with Locations((203, -536)):
            Circle(F2_R)
        with Locations((203, -568)):
            Circle(F2_R)
        with Locations((203, -600)):
            Circle(F2_R)
        with Locations((203, -632)):
            Circle(F2_R)
        with Locations((203, -664)):
            Circle(F2_R)
        with Locations((203, -696)):
            Circle(F2_R)
        with Locations((203, -728)):
            Circle(F2_R)
        with Locations((-203, -760)):
            Circle(F2_R)
        with Locations((-203, -792)):
            Circle(F2_R)
        with Locations((-203, -824)):
            Circle(F2_R)
        with Locations((203, -760)):
            Circle(F2_R)
        with Locations((203, -792)):
            Circle(F2_R)
        with Locations((203, -824)):
            Circle(F2_R)
    extrude(amount=-F3_DEPTH, mode=Mode.SUBTRACT)

    # F4 (on face) → F5 (cut, through all)
    with BuildSketch(Plane.XZ.offset(19)):
        with Locations((203, 40)):
            Circle(F4_R)
        with Locations((203, -56)):
            Circle(F4_R)
    extrude(amount=-F5_DEPTH, mode=Mode.SUBTRACT)


solid = f1.part
